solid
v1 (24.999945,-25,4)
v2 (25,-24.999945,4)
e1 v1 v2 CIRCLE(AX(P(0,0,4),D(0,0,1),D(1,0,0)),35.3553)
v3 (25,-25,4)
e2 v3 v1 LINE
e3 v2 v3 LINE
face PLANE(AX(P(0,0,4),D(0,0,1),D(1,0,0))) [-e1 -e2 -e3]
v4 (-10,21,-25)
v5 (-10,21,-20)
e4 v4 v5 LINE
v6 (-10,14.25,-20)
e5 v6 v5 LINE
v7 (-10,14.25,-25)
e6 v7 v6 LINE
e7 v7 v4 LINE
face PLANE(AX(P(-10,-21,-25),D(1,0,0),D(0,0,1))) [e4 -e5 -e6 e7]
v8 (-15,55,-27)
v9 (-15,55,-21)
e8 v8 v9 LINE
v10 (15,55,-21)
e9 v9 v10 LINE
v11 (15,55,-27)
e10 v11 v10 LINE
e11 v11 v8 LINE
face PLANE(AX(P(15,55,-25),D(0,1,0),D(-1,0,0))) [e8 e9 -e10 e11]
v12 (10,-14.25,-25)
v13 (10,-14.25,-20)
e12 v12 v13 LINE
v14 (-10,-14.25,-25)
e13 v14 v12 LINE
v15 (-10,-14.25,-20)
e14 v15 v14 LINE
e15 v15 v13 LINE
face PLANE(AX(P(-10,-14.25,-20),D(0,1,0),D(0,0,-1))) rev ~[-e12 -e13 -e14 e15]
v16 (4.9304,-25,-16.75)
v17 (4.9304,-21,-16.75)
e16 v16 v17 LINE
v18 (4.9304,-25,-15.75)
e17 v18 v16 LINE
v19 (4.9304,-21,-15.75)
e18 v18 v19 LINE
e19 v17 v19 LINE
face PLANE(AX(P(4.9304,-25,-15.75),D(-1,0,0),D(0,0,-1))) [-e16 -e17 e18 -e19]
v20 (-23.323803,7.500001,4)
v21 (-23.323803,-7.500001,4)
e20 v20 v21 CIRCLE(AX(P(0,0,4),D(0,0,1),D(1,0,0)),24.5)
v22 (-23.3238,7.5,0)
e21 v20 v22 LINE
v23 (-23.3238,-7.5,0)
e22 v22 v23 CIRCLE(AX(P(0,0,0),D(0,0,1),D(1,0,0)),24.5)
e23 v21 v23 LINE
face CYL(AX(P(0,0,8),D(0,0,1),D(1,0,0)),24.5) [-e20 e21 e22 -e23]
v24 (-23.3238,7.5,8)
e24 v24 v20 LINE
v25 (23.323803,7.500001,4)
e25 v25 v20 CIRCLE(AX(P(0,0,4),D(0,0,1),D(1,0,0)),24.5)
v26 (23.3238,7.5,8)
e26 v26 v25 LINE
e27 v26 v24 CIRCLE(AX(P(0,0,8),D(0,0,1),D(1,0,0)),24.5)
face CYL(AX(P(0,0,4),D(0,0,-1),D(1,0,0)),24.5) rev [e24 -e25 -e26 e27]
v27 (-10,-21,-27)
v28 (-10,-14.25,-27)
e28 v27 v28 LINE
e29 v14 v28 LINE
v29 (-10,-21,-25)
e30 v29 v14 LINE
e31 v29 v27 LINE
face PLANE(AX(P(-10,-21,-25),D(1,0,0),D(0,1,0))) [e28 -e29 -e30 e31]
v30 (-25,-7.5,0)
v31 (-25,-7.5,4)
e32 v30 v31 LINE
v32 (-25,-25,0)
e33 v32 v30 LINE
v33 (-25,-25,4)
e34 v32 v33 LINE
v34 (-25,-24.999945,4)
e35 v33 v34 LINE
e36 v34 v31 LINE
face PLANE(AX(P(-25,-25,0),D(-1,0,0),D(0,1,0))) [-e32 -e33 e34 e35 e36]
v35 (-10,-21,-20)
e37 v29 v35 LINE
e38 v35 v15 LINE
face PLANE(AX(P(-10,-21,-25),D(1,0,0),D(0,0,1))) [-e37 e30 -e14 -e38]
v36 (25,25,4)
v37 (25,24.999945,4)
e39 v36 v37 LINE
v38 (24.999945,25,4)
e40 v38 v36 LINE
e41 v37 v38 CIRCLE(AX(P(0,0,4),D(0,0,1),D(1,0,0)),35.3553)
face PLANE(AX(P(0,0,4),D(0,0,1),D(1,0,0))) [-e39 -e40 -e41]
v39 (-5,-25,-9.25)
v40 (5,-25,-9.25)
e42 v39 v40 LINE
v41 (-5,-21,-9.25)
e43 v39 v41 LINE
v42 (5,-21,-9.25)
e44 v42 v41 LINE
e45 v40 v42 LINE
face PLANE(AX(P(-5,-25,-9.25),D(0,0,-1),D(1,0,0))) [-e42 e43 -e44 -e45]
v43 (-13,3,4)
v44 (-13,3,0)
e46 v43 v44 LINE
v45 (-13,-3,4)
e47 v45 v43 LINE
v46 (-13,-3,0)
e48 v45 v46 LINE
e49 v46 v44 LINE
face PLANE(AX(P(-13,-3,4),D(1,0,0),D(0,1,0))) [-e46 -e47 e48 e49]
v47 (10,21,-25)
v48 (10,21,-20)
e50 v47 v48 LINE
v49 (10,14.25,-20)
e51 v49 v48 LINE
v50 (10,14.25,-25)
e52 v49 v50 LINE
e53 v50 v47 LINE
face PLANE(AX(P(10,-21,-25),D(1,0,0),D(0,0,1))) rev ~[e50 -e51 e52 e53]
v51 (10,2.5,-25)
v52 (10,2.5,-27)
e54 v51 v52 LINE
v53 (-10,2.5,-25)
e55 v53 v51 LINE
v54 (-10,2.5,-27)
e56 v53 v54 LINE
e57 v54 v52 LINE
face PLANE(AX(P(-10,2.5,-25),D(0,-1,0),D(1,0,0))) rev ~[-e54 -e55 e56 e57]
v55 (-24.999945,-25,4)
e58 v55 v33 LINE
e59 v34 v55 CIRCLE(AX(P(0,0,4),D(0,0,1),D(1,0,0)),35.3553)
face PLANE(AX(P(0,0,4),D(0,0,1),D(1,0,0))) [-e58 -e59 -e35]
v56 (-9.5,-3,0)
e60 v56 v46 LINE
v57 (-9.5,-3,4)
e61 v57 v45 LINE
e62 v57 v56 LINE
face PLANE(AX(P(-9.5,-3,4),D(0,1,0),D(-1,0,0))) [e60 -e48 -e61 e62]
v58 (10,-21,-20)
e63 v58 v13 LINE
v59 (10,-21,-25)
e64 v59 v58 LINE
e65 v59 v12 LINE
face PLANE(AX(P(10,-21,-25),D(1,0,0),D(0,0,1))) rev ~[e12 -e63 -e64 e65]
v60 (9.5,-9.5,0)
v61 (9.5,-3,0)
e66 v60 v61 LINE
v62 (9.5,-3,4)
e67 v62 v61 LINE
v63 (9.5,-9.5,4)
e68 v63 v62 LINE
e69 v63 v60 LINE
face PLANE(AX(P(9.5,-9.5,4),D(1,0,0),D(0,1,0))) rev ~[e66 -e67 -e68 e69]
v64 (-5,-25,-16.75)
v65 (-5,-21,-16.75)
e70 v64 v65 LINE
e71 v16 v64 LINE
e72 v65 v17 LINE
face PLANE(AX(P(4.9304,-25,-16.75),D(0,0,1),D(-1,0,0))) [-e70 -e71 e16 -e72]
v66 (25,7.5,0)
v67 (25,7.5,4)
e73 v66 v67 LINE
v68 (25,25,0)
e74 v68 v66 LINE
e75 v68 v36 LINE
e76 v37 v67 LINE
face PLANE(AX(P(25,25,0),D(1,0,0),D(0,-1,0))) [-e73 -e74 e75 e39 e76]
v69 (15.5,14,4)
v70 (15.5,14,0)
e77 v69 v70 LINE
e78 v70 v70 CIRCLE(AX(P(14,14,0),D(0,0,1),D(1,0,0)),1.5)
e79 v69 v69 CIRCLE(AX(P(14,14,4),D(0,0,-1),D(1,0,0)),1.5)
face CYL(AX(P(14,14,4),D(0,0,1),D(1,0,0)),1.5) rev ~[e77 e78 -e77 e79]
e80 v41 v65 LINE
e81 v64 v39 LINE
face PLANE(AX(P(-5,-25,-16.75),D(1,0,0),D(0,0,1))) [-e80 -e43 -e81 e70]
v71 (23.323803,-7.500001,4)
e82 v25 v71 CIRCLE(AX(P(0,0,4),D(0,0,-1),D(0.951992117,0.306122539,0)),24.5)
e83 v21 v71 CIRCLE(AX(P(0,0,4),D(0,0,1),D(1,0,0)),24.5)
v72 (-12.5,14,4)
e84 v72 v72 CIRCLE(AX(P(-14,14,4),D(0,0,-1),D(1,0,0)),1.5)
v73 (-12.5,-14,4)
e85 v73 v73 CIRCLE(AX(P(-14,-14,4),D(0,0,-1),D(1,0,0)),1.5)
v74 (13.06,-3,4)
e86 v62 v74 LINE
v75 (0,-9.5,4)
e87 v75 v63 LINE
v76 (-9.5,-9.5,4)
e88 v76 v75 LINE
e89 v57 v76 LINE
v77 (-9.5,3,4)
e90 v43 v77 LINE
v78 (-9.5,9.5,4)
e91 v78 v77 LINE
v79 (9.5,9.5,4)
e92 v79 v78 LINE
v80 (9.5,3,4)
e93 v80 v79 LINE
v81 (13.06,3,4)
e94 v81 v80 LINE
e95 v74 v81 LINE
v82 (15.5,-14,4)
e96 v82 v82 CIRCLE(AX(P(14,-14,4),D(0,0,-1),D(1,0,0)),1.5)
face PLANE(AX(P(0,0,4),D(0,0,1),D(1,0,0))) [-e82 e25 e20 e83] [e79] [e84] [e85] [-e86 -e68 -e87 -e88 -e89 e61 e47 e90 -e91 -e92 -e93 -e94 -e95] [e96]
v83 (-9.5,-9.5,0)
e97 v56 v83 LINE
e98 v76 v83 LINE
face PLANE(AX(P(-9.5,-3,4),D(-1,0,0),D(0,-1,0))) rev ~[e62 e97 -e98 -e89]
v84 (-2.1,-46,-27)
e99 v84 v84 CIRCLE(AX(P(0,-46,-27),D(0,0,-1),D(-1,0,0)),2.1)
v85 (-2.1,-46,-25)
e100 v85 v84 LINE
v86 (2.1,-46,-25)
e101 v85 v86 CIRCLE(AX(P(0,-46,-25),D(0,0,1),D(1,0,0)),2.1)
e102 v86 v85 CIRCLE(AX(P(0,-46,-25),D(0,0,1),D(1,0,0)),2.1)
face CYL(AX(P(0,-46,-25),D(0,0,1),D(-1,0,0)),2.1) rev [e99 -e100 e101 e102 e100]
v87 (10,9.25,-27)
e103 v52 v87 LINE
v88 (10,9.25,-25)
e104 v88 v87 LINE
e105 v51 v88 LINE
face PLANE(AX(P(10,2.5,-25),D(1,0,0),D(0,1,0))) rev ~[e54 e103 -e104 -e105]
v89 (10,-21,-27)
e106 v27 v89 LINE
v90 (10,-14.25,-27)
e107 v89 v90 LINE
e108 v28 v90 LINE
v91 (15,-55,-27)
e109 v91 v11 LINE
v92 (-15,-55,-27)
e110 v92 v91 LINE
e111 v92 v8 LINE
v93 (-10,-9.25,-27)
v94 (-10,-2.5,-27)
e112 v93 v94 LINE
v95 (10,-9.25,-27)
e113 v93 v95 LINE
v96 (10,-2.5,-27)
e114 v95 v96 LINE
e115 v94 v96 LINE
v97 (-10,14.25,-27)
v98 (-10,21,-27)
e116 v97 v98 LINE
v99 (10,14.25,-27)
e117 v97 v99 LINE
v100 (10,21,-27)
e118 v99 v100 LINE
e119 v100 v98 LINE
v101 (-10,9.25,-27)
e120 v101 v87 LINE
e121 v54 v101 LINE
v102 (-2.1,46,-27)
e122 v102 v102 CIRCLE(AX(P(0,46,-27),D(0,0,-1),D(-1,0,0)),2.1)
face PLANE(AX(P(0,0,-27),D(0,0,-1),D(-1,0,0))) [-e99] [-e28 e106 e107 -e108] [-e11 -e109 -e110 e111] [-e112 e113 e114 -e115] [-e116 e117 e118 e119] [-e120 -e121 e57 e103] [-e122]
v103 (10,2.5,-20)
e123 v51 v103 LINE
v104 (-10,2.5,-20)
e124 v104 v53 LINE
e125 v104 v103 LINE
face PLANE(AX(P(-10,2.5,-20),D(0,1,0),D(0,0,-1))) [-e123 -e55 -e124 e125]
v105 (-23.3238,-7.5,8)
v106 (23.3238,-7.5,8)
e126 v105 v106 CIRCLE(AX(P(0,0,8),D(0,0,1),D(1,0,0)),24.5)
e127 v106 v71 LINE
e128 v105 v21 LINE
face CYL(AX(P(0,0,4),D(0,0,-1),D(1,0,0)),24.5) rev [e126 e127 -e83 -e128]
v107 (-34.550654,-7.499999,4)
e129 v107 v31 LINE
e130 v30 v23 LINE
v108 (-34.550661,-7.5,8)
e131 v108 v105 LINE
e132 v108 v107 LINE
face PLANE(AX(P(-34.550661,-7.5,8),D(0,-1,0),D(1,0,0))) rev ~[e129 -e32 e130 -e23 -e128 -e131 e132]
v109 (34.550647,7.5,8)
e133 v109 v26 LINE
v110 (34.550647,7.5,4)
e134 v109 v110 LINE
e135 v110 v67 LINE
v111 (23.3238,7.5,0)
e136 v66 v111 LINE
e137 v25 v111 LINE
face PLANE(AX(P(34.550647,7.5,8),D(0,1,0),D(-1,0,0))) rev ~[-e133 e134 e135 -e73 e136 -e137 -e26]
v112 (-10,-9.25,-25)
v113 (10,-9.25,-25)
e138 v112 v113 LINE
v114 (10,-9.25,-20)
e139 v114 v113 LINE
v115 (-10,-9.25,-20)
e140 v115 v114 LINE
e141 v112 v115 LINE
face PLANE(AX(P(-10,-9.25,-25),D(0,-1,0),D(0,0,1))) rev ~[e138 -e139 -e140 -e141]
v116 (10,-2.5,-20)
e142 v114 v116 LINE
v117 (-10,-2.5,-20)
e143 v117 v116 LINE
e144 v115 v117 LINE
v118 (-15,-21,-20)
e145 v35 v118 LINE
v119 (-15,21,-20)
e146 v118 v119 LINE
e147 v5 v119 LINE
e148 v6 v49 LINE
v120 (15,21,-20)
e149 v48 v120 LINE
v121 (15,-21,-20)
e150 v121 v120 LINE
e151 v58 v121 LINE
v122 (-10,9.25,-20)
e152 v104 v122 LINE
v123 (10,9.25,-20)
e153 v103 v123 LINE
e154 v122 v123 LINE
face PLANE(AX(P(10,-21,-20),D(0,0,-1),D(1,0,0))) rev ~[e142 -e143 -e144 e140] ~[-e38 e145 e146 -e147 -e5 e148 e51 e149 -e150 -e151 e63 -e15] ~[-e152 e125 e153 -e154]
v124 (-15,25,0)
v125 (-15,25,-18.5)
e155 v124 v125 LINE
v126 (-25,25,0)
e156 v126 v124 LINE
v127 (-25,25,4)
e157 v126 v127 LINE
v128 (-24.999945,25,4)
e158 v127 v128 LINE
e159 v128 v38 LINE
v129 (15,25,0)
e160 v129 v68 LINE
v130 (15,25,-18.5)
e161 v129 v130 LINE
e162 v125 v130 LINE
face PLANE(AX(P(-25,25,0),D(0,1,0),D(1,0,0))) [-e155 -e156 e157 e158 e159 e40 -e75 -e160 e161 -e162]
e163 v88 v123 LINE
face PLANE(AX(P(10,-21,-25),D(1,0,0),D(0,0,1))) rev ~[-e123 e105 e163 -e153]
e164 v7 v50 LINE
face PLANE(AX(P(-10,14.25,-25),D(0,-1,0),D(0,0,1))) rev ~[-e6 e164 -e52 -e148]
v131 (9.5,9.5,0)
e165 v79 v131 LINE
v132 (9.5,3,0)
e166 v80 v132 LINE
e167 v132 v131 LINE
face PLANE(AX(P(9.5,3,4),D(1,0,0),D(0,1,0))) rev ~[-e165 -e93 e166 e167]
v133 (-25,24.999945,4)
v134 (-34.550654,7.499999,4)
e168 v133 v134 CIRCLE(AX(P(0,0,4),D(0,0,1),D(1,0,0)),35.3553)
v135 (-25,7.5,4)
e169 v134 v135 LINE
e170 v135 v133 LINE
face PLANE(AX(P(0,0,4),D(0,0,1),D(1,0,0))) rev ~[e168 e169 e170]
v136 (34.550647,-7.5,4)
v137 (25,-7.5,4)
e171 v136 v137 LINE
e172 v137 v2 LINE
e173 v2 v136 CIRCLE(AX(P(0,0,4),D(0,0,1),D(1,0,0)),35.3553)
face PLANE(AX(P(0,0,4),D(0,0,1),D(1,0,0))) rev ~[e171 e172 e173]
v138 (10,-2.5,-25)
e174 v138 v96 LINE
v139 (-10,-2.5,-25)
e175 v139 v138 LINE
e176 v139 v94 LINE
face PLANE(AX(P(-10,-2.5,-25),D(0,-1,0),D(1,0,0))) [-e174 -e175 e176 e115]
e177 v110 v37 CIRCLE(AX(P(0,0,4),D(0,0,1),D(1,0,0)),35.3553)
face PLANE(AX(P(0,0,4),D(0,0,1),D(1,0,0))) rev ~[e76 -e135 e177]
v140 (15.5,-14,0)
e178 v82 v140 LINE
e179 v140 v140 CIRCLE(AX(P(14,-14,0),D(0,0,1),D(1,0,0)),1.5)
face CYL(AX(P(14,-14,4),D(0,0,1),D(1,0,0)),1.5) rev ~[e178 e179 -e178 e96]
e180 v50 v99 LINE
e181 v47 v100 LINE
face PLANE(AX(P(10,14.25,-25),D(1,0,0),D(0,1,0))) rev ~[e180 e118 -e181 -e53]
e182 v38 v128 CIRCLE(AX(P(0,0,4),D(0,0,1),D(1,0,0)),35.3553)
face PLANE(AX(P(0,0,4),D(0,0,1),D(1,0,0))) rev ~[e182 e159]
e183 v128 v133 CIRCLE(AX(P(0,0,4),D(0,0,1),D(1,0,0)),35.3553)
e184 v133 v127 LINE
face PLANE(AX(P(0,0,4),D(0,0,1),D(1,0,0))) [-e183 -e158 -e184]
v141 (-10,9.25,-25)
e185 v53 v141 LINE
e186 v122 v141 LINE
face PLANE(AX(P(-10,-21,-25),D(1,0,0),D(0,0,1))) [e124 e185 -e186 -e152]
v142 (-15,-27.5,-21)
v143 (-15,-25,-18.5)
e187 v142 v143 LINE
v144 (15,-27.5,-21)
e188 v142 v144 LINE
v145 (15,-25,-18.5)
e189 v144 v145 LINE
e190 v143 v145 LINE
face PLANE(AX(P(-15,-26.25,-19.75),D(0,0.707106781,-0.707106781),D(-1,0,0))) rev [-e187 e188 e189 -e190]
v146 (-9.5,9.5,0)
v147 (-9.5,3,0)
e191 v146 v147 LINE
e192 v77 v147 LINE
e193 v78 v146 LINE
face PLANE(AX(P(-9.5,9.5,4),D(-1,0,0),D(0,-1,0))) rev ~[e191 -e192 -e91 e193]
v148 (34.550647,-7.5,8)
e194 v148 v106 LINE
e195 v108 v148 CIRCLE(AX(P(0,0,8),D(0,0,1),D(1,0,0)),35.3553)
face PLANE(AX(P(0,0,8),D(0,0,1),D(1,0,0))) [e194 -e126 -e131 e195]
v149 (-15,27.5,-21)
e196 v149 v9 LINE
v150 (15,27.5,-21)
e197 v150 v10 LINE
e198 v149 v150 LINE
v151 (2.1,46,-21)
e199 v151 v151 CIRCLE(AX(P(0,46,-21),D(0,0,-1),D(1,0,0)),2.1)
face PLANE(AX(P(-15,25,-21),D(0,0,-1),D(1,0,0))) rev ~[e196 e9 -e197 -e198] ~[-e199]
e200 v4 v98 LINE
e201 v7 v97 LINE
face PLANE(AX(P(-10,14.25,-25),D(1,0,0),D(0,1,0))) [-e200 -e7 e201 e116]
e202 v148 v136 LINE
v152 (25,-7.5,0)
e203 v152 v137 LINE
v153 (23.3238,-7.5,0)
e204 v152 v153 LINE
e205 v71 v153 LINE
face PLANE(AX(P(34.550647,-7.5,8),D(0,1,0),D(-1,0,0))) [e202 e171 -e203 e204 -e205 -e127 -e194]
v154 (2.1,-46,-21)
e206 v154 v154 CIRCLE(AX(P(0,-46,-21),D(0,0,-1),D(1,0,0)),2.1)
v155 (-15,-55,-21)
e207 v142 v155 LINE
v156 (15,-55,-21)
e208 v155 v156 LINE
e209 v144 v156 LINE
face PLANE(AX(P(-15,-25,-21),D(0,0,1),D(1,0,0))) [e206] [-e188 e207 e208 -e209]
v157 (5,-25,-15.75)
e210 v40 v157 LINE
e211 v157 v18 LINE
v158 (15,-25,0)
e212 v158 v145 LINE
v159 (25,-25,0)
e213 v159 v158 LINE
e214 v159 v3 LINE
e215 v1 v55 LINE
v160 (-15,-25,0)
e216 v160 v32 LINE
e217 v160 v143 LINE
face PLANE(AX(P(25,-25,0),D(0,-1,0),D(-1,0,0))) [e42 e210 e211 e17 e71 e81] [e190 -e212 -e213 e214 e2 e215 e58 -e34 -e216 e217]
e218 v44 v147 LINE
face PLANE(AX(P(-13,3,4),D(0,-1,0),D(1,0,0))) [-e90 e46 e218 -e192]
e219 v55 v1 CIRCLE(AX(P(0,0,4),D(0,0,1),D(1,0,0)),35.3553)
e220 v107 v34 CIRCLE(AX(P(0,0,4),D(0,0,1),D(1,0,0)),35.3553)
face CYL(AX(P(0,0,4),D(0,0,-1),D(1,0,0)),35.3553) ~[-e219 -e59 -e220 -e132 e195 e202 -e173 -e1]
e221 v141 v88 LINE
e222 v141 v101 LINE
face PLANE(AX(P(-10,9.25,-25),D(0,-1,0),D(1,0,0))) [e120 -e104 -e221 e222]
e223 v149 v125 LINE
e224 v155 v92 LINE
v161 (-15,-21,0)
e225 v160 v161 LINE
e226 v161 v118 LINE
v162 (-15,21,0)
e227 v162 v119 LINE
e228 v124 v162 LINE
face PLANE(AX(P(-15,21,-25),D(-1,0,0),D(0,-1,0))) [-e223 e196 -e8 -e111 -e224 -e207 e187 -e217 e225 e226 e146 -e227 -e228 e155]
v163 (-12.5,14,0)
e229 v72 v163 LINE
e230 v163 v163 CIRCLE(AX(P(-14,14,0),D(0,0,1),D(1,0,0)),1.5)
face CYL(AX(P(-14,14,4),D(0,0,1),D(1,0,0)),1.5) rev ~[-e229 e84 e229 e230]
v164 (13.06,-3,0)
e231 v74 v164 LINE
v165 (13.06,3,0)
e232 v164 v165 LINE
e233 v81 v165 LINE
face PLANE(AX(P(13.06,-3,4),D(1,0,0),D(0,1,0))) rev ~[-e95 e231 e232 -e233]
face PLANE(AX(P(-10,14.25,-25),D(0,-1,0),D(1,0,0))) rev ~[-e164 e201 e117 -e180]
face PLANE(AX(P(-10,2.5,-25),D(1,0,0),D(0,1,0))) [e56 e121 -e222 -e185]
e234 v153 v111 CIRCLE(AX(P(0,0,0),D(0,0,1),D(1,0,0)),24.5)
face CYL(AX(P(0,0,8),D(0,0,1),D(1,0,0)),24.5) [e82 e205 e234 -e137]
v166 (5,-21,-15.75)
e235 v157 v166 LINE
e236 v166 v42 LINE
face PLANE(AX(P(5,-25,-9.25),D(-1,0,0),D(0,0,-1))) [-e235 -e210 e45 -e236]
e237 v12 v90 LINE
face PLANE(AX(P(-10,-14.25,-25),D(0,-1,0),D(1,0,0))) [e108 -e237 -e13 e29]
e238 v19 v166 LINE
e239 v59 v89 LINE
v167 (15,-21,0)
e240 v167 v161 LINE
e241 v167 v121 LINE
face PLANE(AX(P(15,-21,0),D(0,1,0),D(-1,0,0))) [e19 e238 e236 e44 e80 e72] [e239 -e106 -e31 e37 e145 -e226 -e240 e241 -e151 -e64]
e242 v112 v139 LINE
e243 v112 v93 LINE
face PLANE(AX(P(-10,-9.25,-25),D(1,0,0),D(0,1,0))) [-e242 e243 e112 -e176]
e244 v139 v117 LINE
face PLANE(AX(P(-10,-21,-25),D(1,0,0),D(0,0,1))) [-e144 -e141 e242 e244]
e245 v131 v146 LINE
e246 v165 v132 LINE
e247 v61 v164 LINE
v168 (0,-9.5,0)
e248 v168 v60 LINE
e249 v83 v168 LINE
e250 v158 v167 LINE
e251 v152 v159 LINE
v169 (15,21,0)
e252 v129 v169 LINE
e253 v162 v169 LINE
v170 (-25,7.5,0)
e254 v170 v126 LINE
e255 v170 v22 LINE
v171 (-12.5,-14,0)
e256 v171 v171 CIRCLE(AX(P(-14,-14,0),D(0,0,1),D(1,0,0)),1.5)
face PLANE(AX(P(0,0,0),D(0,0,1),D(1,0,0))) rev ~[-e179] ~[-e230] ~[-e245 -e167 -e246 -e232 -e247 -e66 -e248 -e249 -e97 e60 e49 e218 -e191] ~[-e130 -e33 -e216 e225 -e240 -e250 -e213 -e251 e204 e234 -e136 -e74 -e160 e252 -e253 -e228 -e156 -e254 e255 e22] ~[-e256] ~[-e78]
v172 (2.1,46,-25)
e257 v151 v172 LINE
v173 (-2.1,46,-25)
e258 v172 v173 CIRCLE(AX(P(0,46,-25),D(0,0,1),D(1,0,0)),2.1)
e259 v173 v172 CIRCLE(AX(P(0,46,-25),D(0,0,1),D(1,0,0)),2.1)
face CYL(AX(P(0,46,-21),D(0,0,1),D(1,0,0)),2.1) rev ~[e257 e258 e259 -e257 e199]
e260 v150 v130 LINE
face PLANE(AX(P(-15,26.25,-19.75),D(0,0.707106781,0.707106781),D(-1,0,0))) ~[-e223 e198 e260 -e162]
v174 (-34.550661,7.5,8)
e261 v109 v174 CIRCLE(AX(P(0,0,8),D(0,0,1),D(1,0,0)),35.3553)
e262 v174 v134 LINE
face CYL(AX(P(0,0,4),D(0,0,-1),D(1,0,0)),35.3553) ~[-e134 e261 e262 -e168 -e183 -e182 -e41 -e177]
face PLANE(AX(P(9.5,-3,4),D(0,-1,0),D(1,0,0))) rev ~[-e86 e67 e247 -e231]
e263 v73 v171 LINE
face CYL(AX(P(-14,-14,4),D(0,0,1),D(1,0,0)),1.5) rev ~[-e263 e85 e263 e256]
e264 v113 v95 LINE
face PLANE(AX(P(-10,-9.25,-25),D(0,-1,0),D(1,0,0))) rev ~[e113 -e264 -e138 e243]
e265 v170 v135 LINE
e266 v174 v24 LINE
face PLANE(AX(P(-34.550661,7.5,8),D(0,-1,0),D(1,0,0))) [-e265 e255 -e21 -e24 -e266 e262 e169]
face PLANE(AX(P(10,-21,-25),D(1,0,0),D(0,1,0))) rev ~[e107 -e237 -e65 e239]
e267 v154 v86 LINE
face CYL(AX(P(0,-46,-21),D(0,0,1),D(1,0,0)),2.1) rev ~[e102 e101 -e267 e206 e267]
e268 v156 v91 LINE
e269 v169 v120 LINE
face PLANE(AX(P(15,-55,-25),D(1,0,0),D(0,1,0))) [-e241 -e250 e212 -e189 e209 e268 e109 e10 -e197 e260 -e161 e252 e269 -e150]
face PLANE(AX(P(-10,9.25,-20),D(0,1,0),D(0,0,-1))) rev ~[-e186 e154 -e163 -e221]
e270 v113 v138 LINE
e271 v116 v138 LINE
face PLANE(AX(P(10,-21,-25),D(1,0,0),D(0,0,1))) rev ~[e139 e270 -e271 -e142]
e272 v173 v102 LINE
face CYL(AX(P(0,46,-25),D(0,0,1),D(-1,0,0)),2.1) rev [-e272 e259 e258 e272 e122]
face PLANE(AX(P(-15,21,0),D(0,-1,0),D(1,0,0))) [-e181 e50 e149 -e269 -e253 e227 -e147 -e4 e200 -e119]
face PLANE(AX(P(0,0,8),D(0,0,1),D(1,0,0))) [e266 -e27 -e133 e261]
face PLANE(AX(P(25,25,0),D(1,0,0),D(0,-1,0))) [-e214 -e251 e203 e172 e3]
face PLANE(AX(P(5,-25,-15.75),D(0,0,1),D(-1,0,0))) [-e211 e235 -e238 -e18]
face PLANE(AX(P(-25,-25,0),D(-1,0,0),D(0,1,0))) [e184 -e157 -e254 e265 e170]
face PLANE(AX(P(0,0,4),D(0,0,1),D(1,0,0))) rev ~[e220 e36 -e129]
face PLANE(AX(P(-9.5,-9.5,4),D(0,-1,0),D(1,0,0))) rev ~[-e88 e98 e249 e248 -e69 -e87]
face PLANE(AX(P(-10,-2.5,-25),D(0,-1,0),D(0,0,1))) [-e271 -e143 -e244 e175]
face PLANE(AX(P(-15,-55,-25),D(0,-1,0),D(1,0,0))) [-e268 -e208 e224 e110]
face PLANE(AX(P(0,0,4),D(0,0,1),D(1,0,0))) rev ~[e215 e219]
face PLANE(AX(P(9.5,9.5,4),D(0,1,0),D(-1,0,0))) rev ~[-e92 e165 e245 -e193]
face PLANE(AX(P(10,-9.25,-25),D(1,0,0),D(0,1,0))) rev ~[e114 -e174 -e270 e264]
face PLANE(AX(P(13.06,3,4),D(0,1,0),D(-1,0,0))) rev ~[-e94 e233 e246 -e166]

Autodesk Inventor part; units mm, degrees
ref_plane "YZ Plane" through (0, 0, 0) normal (1, 0, 0) x (0, 1, 0)
ref_plane "XZ Plane" through (0, 0, 0) normal (0, 1, 0) x (-1, 0, 0)
ref_plane "XY Plane" through (0, 0, 0) normal (0, 0, 1) x (1, 0, 0)
ref_plane "Arbeitsebene2" through (0, 0, 0) normal (0, 0, 1) x (1, 0, 0)
ref_plane "Arbeitsebene1" through (0, 0, -5) normal (0, 0, 1) x (1, 0, 0)
sketch "Skizze2" plane through (0, 0, 0) normal (0, 0, 1) x (1, 0, 0)
  line L0 (13.6, 12.5) -> (15, 12.5) projected
  arc A0 (10.4, 12.5) -> (13.6, 12.5) centre (12, 12.5) ccw projected
  line L1 (-10.4, 12.5) -> (10.4, 12.5) projected
  arc A1 (-13.6, 12.5) -> (-10.4, 12.5) centre (-12, 12.5) ccw projected
  line L2 (-15, 12.5) -> (-13.6, 12.5) projected
  line L3 (-15, 12.5) -> (-15, -12.5) projected
  line L4 (-15, -12.5) -> (-13.6, -12.5) projected
  arc A2 (-10.4, -12.5) -> (-13.6, -12.5) centre (-12, -12.5) ccw projected
  line L5 (-10.4, -12.5) -> (10.4, -12.5) projected
  arc A3 (13.6, -12.5) -> (10.4, -12.5) centre (12, -12.5) ccw projected
  line L6 (13.6, -12.5) -> (15, -12.5) projected
  line L7 (15, 12.5) -> (15, -12.5) projected
  line L8 (-8.2, 2) -> (-9, 2) projected
  arc A4 (-8.2, 2) -> (-8, 2.2) centre (-8.2, 2.2) ccw projected
  line L9 (-8, 7.8) -> (-8, 2.2) projected
  arc A5 (-7.8, 8) -> (-8, 7.8) centre (-7.8, 7.8) ccw projected
  line L10 (7.8, 8) -> (-7.8, 8) projected
  arc A6 (8, 7.8) -> (7.8, 8) centre (7.8, 7.8) ccw projected
  line L11 (8, 2.2) -> (8, 7.8) projected
  arc A7 (8, 2.2) -> (8.2, 2) centre (8.2, 2.2) ccw projected
  line L12 (9, 2) -> (8.2, 2) projected
  arc A8 (9, -2) -> (9, 2) centre (9, 0) ccw projected
  line L13 (8.2, -2) -> (9, -2) projected
  arc A9 (8.2, -2) -> (8, -2.2) centre (8.2, -2.2) ccw projected
  line L14 (8, -7.8) -> (8, -2.2) projected
  arc A10 (7.8, -8) -> (8, -7.8) centre (7.8, -7.8) ccw projected
  line L15 (-7.8, -8) -> (7.8, -8) projected
  arc A11 (-8, -7.8) -> (-7.8, -8) centre (-7.8, -7.8) ccw projected
  line L16 (-8, -2.2) -> (-8, -7.8) projected
  arc A12 (-8, -2.2) -> (-8.2, -2) centre (-8.2, -2.2) ccw projected
  line L17 (-9, -2) -> (-8.2, -2) projected
  arc A13 (-9, 2) -> (-9, -2) centre (-9, 0) ccw projected
  line L18 (-25, 25) -> (25, 25)
  line L19 (25, 25) -> (25, -25)
  line L20 (25, -25) -> (-25, -25)
  line L21 (-25, -25) -> (-25, 25)
  line L22 (0, 0) -> (0, -14)
  line L23 (0, -14) -> (14, -14)
  line L24 (14, -14) -> (14, 14)
  line L25 (14, 14) -> (-14, 14)
  line L26 (-14, 14) -> (-14, -14)
  circle A14 centre (14, -14) radius 1.5
  circle A15 centre (-14, -14) radius 1.5
  circle A16 centre (-14, 14) radius 1.5
  circle A17 centre (14, 14) radius 1.5
  dimension "d62" = 14
  dimension "d63" = 14
  dimension "d64" = 28
  dimension "d65" = 28
  dimension "d66" = 28
  dimension "d67" = 3
  dimension "d68" = 3
  dimension "d69" = 3
  dimension "d70" = 3
extrude "Extrusion1" add sketch "Skizze2" along normal blind 4 contours A0 L1 A1 L2 A16 L25 A17 L0 | L0 L24 L6 A3 L5 A2 L4 L26 L2 A1 L1 A0 | A15 | L0 L7 L6 L24 | A17 L25 L24 | L24 L25 A17 | A14 L23 L22 L5 A3 L6 | A14 L23 L24 | L24 L23 A14 | A16 L26 L25 | L25 L26 A16 | L26 L4 L3 L2 | L18 L19 L20 L21
sketch "Skizze3" plane through (0, 0, 4) normal (0, 0, 1) x (1, 0, 0)
  circle A0 centre (0, 0) radius 35.3553
  circle A1 centre (0, 0) radius 24.5
  point P0 (0, 0)
  dimension "d3" = 49
extrude "Extrusion2" add sketch "Skizze3" along normal blind 4
sketch "Skizze4" plane through (0, 0, 0) normal (0, 0, -1) x (-1, 0, 0)
  circle A0 centre (0, 0) radius 35.3553 projected
  line L0 (25, 25) -> (25, -25) projected
  line L1 (-25, 25) -> (25, 25)
  line L2 (25, 25) -> (25, 21)
  line L3 (25, 21) -> (-25, 21)
  line L4 (-25, 21) -> (-25, 25)
  line L5 (-25, 25) -> (0, 25)
  line L6 (-25, 25) -> (25, 25) projected
  line L7 (0, 25) -> (15, 25)
  line L8 (15, 25) -> (-15, 25)
  line L9 (-15, 25) -> (-15, 21)
  line L10 (15, 25) -> (15, 21)
  line L11 (-15, 21) -> (15, 21)
  line L12 (-35.3553, 0) -> (35.3553, 0)
  line L13 (-15, -25) -> (-15, -21)
  line L14 (15, -25) -> (15, -21)
  line L15 (-15, -21) -> (15, -21)
  line L16 (15, -25) -> (-15, -25)
  line L17 (25, -25) -> (-25, -25) projected
  line L18 (15, 25) -> (-15, 25)
  point P0 (0, 0)
  dimension "d6" = 4
  dimension "d7" = 15
  dimension "d8" = 30
extrude "Extrusion3" add sketch "Skizze4" along normal blind 25 contours L10 L3 L9 L1 | L16 L13 L15 L14
sketch "Skizze5" plane through (-25, 25, 4) normal (0, 1, 0) x (1, 0, 0)
  line L0 (10, 29) -> (40, 29) projected
  line L1 (10, 4) -> (10, 29) projected
  line L2 (40, 29) -> (10, 29)
  line L3 (10, 29) -> (10, 25)
  line L4 (10, 25) -> (40, 25)
  line L5 (40, 25) -> (40, 29)
  line L6 (40, 29) -> (10, 29) projected
  line L7 (10, 4) -> (10, 29) projected
  point P0 (25, 4)
  dimension "d11" = 4
sketch "Skizze6" plane through (-25, -25, 4) normal (0, -1, 0) x (1, 0, 0)
  line L0 (10, -29) -> (40, -29) projected
  line L1 (10, -4) -> (10, -29) projected
  line L2 (40, -29) -> (10, -29)
  line L3 (10, -29) -> (10, -25)
  line L4 (10, -25) -> (40, -25)
  line L5 (40, -25) -> (40, -29)
  point P0 (25, -4)
  dimension "d12" = 4
extrude "Extrusion4" add sketch "Skizze6" along normal blind 30
extrude "Extrusion5" add sketch "Skizze5" along normal blind 30
sketch "Skizze7" plane through (-15, -21, 0) normal (0, 1, 0) x (1, 0, 0)
  line L0 (0, 25) -> (30, 25) projected
  line L1 (0, 0) -> (0, 25) projected
  line L2 (30, 0) -> (30, 25) projected
  line L3 (0, 25) -> (5, 25)
  line L4 (5, 25) -> (5, 20)
  line L5 (5, 20) -> (0, 20)
  line L6 (0, 20) -> (0, 25)
  line L7 (30, 25) -> (25, 25)
  line L8 (25, 25) -> (25, 20)
  line L9 (25, 20) -> (30, 20)
  line L10 (30, 20) -> (30, 25)
  point P0 (15, 0)
  point P1 (30, 20)
  point P2 (0, 20)
  point P3 (5, 25)
  dimension "d17" = 5
  dimension "d18" = 5
  dimension "d19" = 5
  dimension "d20" = 5
extrude "Extrusion6" add sketch "Skizze7" along normal blind 44
sketch "Skizze8" plane through (0, 0, 4) normal (0, 0, 1) x (1, 0, 0)
  line L0 (-9.5, 9.5) -> (-9.5, -9.5)
  line L1 (-9.5, -9.5) -> (9.5, -9.5)
  line L2 (9.5, -9.5) -> (9.5, 9.5)
  line L3 (9.5, 9.5) -> (-9.5, 9.5)
  line L4 (-9.5, 9.5) -> (-9.5, -9.5)
  line L5 (-5, -3) -> (-5, 3)
  line L6 (-5, -3) -> (-13, -3)
  line L7 (-13, -3) -> (-13, 3)
  line L8 (-13, 3) -> (-5, 3)
  line L9 (-5, 3) -> (-5, -3)
  line L10 (5.06, -3) -> (13.06, -3)
  line L11 (13.06, -3) -> (13.06, 3)
  line L12 (13.06, 3) -> (5.06, 3)
  line L13 (5.06, 3) -> (5.06, -3)
  point P0 (0, 0)
  point P1 (-9.5, -3)
  point P2 (9.5, -3)
  point P3 (9.5, 3)
  point P4 (-9.5, 3)
  dimension "d23" = 19
  dimension "d24" = 8
  dimension "d25" = 8
extrude "Extrusion7" cut sketch "Skizze8" against normal blind 15
chamfer "Fasen1" distance 2.5 angle 45 1 edges at (0, -25, -21)
chamfer "Fasen2" distance 2.5 angle 45 1 edges at (0, 25, -21)
sketch "Skizze11" plane through (-25, -25, 4) normal (0, -1, 0) x (1, 0, 0)
  line L0 (10, -4) -> (10, -22.5) projected
  line L1 (40, -22.5) -> (10, -22.5) projected
  line L2 (40, -4) -> (40, -22.5) projected
  line L3 (40, -4) -> (50, -4) projected
  line L4 (50, -4) -> (50, 0) projected
  line L5 (0, 0) -> (50, 0) projected
  line L6 (0, -4) -> (0, 0) projected
  line L7 (0, -4) -> (10, -4) projected
  line L8 (10, -4) -> (10, -22.5) projected
  line L9 (40, -22.5) -> (10, -22.5) projected
  line L10 (40, -4) -> (40, -22.5) projected
  line L11 (10, -22.5) -> (10, -25) projected
  line L12 (10, -22.5) -> (40, -22.5)
  line L13 (10, -22.5) -> (40, -22.5) projected
  line L14 (25, -22.5) -> (25, -19.5)
  line L15 (25, -19.5) -> (25, -16.5)
  line L16 (30, -19.75) -> (20, -19.75)
  line L17 (20, -19.75) -> (20, -13.25)
  line L18 (20, -13.25) -> (30, -13.25)
  line L19 (30, -13.25) -> (30, -19.75)
  line L20 (30, -19.75) -> (20, -13.25) construction
  line L21 (20, -19.75) -> (30, -13.25) construction
  point P0 (25, -4)
  point P1 (20.0696, -16.3928)
  dimension "d40" = 3
  dimension "d41" = 3
  dimension "d42" = 10
extrude "Extrusion10" cut sketch "Skizze11" against normal blind 8 contours L16 L17 L18 L19
sketch "Skizze12" plane through (-25, -25, 4) normal (0, -1, 0) x (1, 0, 0)
  line L0 (20, -13.25) -> (30, -13.25) projected
  line L1 (30, -13.25) -> (30, -19.75) projected
  line L2 (30, -19.75) -> (20, -19.75) projected
  line L3 (20, -19.75) -> (20, -13.25) projected
  line L4 (40, -22.5) -> (10, -22.5) projected
  line L5 (40, -4) -> (40, -22.5) projected
  line L6 (40, -4) -> (50, -4) projected
  line L7 (50, -4) -> (50, 0) projected
  line L8 (0, 0) -> (50, 0) projected
  line L9 (0, -4) -> (0, 0) projected
  line L10 (0, -4) -> (10, -4) projected
  line L11 (10, -4) -> (10, -22.5) projected
  line L12 (20.0696, -16.3928) -> (29.9304, -16.3928)
  line L13 (20, -19.75) -> (29.9304, -19.75)
  line L14 (29.9304, -19.75) -> (29.9304, -20.75)
  line L15 (29.9304, -20.75) -> (20, -20.75)
  line L16 (20, -20.75) -> (20, -19.75)
  point P0 (25, -4)
  dimension "d45" = 1
extrude "Extrusion11" cut sketch "Skizze12" against normal blind 7.25 contours L2 L14 L15 L16
sketch "Skizze13" plane through (0, 0, 8) normal (0, 0, 1) x (1, 0, 0)
  circle A0 centre (0, 0) radius 35.3553 projected
  circle A1 centre (0, 0) radius 24.5 projected
  circle A2 centre (0, 0) radius 24.5 projected
  line L0 (-24.5, 0) -> (-36.4173, 0)
  arc A3 (-25, 25) -> (-25, -25) centre (0, 0) ccw projected
  line L1 (-35.3553, 0) -> (-35.3553, 7.5)
  line L2 (-35.3553, 7.5) -> (-23.3238, 7.5)
  line L3 (-35.3553, 0) -> (-35.3553, -7.5)
  line L4 (-35.3553, -7.5) -> (-23.3238, -7.5)
  circle A4 centre (0, 0) radius 35.3553 projected
  line L5 (0, 35.3553) -> (0, -35.3553)
  line L6 (35.3553, 0) -> (35.3553, 7.5)
  line L7 (35.3553, 7.5) -> (23.3238, 7.5)
  line L8 (35.3553, 0) -> (35.3553, -7.5)
  line L9 (35.3553, -7.5) -> (23.3238, -7.5)
  point P0 (0, 0)
  point P1 (34.5507, -7.5)
  point P2 (34.5507, 7.5)
  point P3 (-34.5507, 7.5)
  point P4 (-34.5507, -7.5)
  dimension "d48" = 7.5
  dimension "d49" = 7.5
extrude "Extrusion12" cut sketch "Skizze13" against normal blind 47.75 contours A0 L9 A1 L7 | L2 A1 L0 A0 | L0 A1 L4 A0
sketch "Skizze14" plane through (-10, -21, -20) normal (1, 0, 0) x (0, 0, -1)
  line L0 (0, 42) -> (5, 42) projected
  line L1 (0, 0) -> (0, 42) projected
  line L2 (5, 0) -> (0, 0) projected
  line L3 (5, 0) -> (5, 42) projected
  line L4 (5, 42) -> (5, 21)
  line L5 (5, 21) -> (0, 21)
  line L6 (0, 0) -> (0, 42) projected
  line L7 (5, 21) -> (5, 18.5)
  line L8 (5, 0) -> (5, 42) projected
  line L9 (5, 18.5) -> (0, 18.5)
  line L10 (0, 18.5) -> (0, 23.5)
  line L11 (0, 23.5) -> (5, 23.5)
  line L12 (5, 23.5) -> (5, 18.5)
  point P0 (-20, 21)
  point P1 (0, 18.5)
  point P2 (5, 18.5)
  dimension "d52" = 2.5
  dimension "d53" = 5
extrude "Extrusion13" add sketch "Skizze14" along normal blind 21.25 contours L11 L3 L5 L1 | L5 L3 L9 L1
sketch "Skizze15" plane through (-15, -55, -21) normal (0, 0, 1) x (1, 0, 0)
  line L0 (0, 27.5) -> (30, 27.5) projected
  line L1 (0, 27.5) -> (0, 0) projected
  line L2 (30, 0) -> (0, 0) projected
  line L3 (30, 27.5) -> (30, 0) projected
  line L4 (30, 82.5) -> (0, 82.5) projected
  line L5 (30, 82.5) -> (30, 110) projected
  line L6 (0, 110) -> (30, 110) projected
  line L7 (0, 82.5) -> (0, 110) projected
  line L8 (15, 0) -> (15, 9)
  circle A0 centre (15, 9) radius 2.1
  line L9 (15, 110) -> (15, 101)
  circle A1 centre (15, 101) radius 2.1
  point P0 (15, 55)
  dimension "d56" = 9
  dimension "d57" = 4.2
  dimension "d58" = 9
  dimension "d59" = 4.2
extrude "Extrusion14" cut sketch "Skizze15" against normal blind 41.25 contours A0 | A1
sketch "Skizze16" plane through (0, 0, 4) normal (0, 0, 1) x (1, 0, 0)
  line L0 (0, 0) -> (0, -14)
  line L1 (0, -14) -> (14, -14)
  line L2 (14, -14) -> (-14, -14)
  line L3 (-14, -14) -> (-14, 14)
  line L4 (-14, 14) -> (14, 14)
  line L5 (14, 14) -> (14, -14)
  circle A0 centre (-14, -14) radius 1.5
  circle A1 centre (-14, 14) radius 1.5
  circle A2 centre (14, 14) radius 1.5
  circle A3 centre (14, -14) radius 1.5
  dimension "d71" = 14
  dimension "d72" = 14
  dimension "d73" = 28
  dimension "d74" = 28
  dimension "d75" = 3
  dimension "d76" = 3
  dimension "d77" = 3
  dimension "d78" = 3
extrude "Extrusion15" cut sketch "Skizze16" against normal blind 7.25 contours A3 L5 L1 | L1 L5 A3 | A0 L3 L2 | L2 L3 A0 | A2 L4 L5 | L5 L4 A2 | A1 L4 L3 | L3 L4 A1
sketch "Skizze17" plane through (-10, -21, -20) normal (1, 0, 0) x (0, 0, -1)
  point P0 (-20, 21)
sketch "Skizze18" plane through (-10, -21, -20) normal (1, 0, 0) x (0, 0, -1)
  line L0 (5, 18.5) -> (0, 18.5) projected
  line L1 (0, 0) -> (0, 18.5) projected
  line L2 (5, 0) -> (0, 0) projected
  line L3 (5, 0) -> (5, 18.5) projected
  line L4 (0, 23.5) -> (5, 23.5) projected
  line L5 (5, 23.5) -> (5, 42) projected
  line L6 (0, 42) -> (5, 42) projected
  line L7 (0, 23.5) -> (0, 42) projected
  line L8 (0, 0) -> (0, 9.25)
  line L9 (0, 0) -> (0, 18.5) projected
  line L10 (0, 0) -> (0, 42) projected
  line L11 (0, 32.75) -> (0, 30.25)
  line L12 (0, 9.25) -> (0, 6.75)
  line L13 (5, 42) -> (5, -34) projected
  line L14 (0, 6.75) -> (5, 6.75)
  line L15 (5, 6.75) -> (5, 11.75)
  line L16 (5, 11.75) -> (0, 11.75)
  line L17 (0, 11.75) -> (0, 6.75)
  line L18 (0, 30.25) -> (5, 30.25)
  line L19 (5, 30.25) -> (5, 35.25)
  line L20 (5, 35.25) -> (0, 35.25)
  line L21 (0, 35.25) -> (0, 30.25)
  point P0 (-20, 21)
  point P1 (0, 35.25)
  point P2 (0, 30.25)
  point P3 (0, 6.75)
  point P4 (5, 6.75)
  dimension "d81" = 2.5
  dimension "d82" = 2.5
  dimension "d83" = 5
  dimension "d84" = 5
extrude "Extrusion16" add sketch "Skizze18" along normal blind 23.25 contours L3 L14 L1 L16 | L18 L7 L20 L5
sketch "Skizze19" plane through (0, 0, -25) normal (0, 0, -1) x (-1, 0, 0)
  line L0 (10, 2.5) -> (10, 9.25) projected
  line L1 (10, 2.5) -> (-10, 2.5) projected
  line L2 (-10, 2.5) -> (-10, 9.25) projected
  line L3 (10, 9.25) -> (-10, 9.25) projected
  line L4 (10, -21) -> (10, -14.25) projected
  line L5 (10, -21) -> (-10, -21) projected
  line L6 (-10, -21) -> (-10, -14.25) projected
  line L7 (10, -14.25) -> (-10, -14.25) projected
  circle A0 centre (0, 46) radius 2.1 projected
  circle A1 centre (0, -46) radius 2.1 projected
  line L8 (10, -9.25) -> (-10, -9.25) projected
  line L9 (-10, -9.25) -> (-10, -2.5) projected
  line L10 (10, -2.5) -> (-10, -2.5) projected
  line L11 (10, -9.25) -> (10, -2.5) projected
  line L12 (10, 14.25) -> (-10, 14.25) projected
  line L13 (-10, 14.25) -> (-10, 21) projected
  line L14 (-10, 21) -> (10, 21) projected
  line L15 (10, 14.25) -> (10, 21) projected
  line L16 (-15, -55) -> (-15, 55) projected
  line L17 (15, -55) -> (-15, -55) projected
  line L18 (15, 21) -> (15, -55) projected
  line L19 (15, 21) -> (15, 55) projected
  line L20 (-15, 55) -> (15, 55) projected
  point P0 (0, 0)
extrude "Extrusion17" add sketch "Skizze19" along normal blind 2
properties part number "CAM1"
